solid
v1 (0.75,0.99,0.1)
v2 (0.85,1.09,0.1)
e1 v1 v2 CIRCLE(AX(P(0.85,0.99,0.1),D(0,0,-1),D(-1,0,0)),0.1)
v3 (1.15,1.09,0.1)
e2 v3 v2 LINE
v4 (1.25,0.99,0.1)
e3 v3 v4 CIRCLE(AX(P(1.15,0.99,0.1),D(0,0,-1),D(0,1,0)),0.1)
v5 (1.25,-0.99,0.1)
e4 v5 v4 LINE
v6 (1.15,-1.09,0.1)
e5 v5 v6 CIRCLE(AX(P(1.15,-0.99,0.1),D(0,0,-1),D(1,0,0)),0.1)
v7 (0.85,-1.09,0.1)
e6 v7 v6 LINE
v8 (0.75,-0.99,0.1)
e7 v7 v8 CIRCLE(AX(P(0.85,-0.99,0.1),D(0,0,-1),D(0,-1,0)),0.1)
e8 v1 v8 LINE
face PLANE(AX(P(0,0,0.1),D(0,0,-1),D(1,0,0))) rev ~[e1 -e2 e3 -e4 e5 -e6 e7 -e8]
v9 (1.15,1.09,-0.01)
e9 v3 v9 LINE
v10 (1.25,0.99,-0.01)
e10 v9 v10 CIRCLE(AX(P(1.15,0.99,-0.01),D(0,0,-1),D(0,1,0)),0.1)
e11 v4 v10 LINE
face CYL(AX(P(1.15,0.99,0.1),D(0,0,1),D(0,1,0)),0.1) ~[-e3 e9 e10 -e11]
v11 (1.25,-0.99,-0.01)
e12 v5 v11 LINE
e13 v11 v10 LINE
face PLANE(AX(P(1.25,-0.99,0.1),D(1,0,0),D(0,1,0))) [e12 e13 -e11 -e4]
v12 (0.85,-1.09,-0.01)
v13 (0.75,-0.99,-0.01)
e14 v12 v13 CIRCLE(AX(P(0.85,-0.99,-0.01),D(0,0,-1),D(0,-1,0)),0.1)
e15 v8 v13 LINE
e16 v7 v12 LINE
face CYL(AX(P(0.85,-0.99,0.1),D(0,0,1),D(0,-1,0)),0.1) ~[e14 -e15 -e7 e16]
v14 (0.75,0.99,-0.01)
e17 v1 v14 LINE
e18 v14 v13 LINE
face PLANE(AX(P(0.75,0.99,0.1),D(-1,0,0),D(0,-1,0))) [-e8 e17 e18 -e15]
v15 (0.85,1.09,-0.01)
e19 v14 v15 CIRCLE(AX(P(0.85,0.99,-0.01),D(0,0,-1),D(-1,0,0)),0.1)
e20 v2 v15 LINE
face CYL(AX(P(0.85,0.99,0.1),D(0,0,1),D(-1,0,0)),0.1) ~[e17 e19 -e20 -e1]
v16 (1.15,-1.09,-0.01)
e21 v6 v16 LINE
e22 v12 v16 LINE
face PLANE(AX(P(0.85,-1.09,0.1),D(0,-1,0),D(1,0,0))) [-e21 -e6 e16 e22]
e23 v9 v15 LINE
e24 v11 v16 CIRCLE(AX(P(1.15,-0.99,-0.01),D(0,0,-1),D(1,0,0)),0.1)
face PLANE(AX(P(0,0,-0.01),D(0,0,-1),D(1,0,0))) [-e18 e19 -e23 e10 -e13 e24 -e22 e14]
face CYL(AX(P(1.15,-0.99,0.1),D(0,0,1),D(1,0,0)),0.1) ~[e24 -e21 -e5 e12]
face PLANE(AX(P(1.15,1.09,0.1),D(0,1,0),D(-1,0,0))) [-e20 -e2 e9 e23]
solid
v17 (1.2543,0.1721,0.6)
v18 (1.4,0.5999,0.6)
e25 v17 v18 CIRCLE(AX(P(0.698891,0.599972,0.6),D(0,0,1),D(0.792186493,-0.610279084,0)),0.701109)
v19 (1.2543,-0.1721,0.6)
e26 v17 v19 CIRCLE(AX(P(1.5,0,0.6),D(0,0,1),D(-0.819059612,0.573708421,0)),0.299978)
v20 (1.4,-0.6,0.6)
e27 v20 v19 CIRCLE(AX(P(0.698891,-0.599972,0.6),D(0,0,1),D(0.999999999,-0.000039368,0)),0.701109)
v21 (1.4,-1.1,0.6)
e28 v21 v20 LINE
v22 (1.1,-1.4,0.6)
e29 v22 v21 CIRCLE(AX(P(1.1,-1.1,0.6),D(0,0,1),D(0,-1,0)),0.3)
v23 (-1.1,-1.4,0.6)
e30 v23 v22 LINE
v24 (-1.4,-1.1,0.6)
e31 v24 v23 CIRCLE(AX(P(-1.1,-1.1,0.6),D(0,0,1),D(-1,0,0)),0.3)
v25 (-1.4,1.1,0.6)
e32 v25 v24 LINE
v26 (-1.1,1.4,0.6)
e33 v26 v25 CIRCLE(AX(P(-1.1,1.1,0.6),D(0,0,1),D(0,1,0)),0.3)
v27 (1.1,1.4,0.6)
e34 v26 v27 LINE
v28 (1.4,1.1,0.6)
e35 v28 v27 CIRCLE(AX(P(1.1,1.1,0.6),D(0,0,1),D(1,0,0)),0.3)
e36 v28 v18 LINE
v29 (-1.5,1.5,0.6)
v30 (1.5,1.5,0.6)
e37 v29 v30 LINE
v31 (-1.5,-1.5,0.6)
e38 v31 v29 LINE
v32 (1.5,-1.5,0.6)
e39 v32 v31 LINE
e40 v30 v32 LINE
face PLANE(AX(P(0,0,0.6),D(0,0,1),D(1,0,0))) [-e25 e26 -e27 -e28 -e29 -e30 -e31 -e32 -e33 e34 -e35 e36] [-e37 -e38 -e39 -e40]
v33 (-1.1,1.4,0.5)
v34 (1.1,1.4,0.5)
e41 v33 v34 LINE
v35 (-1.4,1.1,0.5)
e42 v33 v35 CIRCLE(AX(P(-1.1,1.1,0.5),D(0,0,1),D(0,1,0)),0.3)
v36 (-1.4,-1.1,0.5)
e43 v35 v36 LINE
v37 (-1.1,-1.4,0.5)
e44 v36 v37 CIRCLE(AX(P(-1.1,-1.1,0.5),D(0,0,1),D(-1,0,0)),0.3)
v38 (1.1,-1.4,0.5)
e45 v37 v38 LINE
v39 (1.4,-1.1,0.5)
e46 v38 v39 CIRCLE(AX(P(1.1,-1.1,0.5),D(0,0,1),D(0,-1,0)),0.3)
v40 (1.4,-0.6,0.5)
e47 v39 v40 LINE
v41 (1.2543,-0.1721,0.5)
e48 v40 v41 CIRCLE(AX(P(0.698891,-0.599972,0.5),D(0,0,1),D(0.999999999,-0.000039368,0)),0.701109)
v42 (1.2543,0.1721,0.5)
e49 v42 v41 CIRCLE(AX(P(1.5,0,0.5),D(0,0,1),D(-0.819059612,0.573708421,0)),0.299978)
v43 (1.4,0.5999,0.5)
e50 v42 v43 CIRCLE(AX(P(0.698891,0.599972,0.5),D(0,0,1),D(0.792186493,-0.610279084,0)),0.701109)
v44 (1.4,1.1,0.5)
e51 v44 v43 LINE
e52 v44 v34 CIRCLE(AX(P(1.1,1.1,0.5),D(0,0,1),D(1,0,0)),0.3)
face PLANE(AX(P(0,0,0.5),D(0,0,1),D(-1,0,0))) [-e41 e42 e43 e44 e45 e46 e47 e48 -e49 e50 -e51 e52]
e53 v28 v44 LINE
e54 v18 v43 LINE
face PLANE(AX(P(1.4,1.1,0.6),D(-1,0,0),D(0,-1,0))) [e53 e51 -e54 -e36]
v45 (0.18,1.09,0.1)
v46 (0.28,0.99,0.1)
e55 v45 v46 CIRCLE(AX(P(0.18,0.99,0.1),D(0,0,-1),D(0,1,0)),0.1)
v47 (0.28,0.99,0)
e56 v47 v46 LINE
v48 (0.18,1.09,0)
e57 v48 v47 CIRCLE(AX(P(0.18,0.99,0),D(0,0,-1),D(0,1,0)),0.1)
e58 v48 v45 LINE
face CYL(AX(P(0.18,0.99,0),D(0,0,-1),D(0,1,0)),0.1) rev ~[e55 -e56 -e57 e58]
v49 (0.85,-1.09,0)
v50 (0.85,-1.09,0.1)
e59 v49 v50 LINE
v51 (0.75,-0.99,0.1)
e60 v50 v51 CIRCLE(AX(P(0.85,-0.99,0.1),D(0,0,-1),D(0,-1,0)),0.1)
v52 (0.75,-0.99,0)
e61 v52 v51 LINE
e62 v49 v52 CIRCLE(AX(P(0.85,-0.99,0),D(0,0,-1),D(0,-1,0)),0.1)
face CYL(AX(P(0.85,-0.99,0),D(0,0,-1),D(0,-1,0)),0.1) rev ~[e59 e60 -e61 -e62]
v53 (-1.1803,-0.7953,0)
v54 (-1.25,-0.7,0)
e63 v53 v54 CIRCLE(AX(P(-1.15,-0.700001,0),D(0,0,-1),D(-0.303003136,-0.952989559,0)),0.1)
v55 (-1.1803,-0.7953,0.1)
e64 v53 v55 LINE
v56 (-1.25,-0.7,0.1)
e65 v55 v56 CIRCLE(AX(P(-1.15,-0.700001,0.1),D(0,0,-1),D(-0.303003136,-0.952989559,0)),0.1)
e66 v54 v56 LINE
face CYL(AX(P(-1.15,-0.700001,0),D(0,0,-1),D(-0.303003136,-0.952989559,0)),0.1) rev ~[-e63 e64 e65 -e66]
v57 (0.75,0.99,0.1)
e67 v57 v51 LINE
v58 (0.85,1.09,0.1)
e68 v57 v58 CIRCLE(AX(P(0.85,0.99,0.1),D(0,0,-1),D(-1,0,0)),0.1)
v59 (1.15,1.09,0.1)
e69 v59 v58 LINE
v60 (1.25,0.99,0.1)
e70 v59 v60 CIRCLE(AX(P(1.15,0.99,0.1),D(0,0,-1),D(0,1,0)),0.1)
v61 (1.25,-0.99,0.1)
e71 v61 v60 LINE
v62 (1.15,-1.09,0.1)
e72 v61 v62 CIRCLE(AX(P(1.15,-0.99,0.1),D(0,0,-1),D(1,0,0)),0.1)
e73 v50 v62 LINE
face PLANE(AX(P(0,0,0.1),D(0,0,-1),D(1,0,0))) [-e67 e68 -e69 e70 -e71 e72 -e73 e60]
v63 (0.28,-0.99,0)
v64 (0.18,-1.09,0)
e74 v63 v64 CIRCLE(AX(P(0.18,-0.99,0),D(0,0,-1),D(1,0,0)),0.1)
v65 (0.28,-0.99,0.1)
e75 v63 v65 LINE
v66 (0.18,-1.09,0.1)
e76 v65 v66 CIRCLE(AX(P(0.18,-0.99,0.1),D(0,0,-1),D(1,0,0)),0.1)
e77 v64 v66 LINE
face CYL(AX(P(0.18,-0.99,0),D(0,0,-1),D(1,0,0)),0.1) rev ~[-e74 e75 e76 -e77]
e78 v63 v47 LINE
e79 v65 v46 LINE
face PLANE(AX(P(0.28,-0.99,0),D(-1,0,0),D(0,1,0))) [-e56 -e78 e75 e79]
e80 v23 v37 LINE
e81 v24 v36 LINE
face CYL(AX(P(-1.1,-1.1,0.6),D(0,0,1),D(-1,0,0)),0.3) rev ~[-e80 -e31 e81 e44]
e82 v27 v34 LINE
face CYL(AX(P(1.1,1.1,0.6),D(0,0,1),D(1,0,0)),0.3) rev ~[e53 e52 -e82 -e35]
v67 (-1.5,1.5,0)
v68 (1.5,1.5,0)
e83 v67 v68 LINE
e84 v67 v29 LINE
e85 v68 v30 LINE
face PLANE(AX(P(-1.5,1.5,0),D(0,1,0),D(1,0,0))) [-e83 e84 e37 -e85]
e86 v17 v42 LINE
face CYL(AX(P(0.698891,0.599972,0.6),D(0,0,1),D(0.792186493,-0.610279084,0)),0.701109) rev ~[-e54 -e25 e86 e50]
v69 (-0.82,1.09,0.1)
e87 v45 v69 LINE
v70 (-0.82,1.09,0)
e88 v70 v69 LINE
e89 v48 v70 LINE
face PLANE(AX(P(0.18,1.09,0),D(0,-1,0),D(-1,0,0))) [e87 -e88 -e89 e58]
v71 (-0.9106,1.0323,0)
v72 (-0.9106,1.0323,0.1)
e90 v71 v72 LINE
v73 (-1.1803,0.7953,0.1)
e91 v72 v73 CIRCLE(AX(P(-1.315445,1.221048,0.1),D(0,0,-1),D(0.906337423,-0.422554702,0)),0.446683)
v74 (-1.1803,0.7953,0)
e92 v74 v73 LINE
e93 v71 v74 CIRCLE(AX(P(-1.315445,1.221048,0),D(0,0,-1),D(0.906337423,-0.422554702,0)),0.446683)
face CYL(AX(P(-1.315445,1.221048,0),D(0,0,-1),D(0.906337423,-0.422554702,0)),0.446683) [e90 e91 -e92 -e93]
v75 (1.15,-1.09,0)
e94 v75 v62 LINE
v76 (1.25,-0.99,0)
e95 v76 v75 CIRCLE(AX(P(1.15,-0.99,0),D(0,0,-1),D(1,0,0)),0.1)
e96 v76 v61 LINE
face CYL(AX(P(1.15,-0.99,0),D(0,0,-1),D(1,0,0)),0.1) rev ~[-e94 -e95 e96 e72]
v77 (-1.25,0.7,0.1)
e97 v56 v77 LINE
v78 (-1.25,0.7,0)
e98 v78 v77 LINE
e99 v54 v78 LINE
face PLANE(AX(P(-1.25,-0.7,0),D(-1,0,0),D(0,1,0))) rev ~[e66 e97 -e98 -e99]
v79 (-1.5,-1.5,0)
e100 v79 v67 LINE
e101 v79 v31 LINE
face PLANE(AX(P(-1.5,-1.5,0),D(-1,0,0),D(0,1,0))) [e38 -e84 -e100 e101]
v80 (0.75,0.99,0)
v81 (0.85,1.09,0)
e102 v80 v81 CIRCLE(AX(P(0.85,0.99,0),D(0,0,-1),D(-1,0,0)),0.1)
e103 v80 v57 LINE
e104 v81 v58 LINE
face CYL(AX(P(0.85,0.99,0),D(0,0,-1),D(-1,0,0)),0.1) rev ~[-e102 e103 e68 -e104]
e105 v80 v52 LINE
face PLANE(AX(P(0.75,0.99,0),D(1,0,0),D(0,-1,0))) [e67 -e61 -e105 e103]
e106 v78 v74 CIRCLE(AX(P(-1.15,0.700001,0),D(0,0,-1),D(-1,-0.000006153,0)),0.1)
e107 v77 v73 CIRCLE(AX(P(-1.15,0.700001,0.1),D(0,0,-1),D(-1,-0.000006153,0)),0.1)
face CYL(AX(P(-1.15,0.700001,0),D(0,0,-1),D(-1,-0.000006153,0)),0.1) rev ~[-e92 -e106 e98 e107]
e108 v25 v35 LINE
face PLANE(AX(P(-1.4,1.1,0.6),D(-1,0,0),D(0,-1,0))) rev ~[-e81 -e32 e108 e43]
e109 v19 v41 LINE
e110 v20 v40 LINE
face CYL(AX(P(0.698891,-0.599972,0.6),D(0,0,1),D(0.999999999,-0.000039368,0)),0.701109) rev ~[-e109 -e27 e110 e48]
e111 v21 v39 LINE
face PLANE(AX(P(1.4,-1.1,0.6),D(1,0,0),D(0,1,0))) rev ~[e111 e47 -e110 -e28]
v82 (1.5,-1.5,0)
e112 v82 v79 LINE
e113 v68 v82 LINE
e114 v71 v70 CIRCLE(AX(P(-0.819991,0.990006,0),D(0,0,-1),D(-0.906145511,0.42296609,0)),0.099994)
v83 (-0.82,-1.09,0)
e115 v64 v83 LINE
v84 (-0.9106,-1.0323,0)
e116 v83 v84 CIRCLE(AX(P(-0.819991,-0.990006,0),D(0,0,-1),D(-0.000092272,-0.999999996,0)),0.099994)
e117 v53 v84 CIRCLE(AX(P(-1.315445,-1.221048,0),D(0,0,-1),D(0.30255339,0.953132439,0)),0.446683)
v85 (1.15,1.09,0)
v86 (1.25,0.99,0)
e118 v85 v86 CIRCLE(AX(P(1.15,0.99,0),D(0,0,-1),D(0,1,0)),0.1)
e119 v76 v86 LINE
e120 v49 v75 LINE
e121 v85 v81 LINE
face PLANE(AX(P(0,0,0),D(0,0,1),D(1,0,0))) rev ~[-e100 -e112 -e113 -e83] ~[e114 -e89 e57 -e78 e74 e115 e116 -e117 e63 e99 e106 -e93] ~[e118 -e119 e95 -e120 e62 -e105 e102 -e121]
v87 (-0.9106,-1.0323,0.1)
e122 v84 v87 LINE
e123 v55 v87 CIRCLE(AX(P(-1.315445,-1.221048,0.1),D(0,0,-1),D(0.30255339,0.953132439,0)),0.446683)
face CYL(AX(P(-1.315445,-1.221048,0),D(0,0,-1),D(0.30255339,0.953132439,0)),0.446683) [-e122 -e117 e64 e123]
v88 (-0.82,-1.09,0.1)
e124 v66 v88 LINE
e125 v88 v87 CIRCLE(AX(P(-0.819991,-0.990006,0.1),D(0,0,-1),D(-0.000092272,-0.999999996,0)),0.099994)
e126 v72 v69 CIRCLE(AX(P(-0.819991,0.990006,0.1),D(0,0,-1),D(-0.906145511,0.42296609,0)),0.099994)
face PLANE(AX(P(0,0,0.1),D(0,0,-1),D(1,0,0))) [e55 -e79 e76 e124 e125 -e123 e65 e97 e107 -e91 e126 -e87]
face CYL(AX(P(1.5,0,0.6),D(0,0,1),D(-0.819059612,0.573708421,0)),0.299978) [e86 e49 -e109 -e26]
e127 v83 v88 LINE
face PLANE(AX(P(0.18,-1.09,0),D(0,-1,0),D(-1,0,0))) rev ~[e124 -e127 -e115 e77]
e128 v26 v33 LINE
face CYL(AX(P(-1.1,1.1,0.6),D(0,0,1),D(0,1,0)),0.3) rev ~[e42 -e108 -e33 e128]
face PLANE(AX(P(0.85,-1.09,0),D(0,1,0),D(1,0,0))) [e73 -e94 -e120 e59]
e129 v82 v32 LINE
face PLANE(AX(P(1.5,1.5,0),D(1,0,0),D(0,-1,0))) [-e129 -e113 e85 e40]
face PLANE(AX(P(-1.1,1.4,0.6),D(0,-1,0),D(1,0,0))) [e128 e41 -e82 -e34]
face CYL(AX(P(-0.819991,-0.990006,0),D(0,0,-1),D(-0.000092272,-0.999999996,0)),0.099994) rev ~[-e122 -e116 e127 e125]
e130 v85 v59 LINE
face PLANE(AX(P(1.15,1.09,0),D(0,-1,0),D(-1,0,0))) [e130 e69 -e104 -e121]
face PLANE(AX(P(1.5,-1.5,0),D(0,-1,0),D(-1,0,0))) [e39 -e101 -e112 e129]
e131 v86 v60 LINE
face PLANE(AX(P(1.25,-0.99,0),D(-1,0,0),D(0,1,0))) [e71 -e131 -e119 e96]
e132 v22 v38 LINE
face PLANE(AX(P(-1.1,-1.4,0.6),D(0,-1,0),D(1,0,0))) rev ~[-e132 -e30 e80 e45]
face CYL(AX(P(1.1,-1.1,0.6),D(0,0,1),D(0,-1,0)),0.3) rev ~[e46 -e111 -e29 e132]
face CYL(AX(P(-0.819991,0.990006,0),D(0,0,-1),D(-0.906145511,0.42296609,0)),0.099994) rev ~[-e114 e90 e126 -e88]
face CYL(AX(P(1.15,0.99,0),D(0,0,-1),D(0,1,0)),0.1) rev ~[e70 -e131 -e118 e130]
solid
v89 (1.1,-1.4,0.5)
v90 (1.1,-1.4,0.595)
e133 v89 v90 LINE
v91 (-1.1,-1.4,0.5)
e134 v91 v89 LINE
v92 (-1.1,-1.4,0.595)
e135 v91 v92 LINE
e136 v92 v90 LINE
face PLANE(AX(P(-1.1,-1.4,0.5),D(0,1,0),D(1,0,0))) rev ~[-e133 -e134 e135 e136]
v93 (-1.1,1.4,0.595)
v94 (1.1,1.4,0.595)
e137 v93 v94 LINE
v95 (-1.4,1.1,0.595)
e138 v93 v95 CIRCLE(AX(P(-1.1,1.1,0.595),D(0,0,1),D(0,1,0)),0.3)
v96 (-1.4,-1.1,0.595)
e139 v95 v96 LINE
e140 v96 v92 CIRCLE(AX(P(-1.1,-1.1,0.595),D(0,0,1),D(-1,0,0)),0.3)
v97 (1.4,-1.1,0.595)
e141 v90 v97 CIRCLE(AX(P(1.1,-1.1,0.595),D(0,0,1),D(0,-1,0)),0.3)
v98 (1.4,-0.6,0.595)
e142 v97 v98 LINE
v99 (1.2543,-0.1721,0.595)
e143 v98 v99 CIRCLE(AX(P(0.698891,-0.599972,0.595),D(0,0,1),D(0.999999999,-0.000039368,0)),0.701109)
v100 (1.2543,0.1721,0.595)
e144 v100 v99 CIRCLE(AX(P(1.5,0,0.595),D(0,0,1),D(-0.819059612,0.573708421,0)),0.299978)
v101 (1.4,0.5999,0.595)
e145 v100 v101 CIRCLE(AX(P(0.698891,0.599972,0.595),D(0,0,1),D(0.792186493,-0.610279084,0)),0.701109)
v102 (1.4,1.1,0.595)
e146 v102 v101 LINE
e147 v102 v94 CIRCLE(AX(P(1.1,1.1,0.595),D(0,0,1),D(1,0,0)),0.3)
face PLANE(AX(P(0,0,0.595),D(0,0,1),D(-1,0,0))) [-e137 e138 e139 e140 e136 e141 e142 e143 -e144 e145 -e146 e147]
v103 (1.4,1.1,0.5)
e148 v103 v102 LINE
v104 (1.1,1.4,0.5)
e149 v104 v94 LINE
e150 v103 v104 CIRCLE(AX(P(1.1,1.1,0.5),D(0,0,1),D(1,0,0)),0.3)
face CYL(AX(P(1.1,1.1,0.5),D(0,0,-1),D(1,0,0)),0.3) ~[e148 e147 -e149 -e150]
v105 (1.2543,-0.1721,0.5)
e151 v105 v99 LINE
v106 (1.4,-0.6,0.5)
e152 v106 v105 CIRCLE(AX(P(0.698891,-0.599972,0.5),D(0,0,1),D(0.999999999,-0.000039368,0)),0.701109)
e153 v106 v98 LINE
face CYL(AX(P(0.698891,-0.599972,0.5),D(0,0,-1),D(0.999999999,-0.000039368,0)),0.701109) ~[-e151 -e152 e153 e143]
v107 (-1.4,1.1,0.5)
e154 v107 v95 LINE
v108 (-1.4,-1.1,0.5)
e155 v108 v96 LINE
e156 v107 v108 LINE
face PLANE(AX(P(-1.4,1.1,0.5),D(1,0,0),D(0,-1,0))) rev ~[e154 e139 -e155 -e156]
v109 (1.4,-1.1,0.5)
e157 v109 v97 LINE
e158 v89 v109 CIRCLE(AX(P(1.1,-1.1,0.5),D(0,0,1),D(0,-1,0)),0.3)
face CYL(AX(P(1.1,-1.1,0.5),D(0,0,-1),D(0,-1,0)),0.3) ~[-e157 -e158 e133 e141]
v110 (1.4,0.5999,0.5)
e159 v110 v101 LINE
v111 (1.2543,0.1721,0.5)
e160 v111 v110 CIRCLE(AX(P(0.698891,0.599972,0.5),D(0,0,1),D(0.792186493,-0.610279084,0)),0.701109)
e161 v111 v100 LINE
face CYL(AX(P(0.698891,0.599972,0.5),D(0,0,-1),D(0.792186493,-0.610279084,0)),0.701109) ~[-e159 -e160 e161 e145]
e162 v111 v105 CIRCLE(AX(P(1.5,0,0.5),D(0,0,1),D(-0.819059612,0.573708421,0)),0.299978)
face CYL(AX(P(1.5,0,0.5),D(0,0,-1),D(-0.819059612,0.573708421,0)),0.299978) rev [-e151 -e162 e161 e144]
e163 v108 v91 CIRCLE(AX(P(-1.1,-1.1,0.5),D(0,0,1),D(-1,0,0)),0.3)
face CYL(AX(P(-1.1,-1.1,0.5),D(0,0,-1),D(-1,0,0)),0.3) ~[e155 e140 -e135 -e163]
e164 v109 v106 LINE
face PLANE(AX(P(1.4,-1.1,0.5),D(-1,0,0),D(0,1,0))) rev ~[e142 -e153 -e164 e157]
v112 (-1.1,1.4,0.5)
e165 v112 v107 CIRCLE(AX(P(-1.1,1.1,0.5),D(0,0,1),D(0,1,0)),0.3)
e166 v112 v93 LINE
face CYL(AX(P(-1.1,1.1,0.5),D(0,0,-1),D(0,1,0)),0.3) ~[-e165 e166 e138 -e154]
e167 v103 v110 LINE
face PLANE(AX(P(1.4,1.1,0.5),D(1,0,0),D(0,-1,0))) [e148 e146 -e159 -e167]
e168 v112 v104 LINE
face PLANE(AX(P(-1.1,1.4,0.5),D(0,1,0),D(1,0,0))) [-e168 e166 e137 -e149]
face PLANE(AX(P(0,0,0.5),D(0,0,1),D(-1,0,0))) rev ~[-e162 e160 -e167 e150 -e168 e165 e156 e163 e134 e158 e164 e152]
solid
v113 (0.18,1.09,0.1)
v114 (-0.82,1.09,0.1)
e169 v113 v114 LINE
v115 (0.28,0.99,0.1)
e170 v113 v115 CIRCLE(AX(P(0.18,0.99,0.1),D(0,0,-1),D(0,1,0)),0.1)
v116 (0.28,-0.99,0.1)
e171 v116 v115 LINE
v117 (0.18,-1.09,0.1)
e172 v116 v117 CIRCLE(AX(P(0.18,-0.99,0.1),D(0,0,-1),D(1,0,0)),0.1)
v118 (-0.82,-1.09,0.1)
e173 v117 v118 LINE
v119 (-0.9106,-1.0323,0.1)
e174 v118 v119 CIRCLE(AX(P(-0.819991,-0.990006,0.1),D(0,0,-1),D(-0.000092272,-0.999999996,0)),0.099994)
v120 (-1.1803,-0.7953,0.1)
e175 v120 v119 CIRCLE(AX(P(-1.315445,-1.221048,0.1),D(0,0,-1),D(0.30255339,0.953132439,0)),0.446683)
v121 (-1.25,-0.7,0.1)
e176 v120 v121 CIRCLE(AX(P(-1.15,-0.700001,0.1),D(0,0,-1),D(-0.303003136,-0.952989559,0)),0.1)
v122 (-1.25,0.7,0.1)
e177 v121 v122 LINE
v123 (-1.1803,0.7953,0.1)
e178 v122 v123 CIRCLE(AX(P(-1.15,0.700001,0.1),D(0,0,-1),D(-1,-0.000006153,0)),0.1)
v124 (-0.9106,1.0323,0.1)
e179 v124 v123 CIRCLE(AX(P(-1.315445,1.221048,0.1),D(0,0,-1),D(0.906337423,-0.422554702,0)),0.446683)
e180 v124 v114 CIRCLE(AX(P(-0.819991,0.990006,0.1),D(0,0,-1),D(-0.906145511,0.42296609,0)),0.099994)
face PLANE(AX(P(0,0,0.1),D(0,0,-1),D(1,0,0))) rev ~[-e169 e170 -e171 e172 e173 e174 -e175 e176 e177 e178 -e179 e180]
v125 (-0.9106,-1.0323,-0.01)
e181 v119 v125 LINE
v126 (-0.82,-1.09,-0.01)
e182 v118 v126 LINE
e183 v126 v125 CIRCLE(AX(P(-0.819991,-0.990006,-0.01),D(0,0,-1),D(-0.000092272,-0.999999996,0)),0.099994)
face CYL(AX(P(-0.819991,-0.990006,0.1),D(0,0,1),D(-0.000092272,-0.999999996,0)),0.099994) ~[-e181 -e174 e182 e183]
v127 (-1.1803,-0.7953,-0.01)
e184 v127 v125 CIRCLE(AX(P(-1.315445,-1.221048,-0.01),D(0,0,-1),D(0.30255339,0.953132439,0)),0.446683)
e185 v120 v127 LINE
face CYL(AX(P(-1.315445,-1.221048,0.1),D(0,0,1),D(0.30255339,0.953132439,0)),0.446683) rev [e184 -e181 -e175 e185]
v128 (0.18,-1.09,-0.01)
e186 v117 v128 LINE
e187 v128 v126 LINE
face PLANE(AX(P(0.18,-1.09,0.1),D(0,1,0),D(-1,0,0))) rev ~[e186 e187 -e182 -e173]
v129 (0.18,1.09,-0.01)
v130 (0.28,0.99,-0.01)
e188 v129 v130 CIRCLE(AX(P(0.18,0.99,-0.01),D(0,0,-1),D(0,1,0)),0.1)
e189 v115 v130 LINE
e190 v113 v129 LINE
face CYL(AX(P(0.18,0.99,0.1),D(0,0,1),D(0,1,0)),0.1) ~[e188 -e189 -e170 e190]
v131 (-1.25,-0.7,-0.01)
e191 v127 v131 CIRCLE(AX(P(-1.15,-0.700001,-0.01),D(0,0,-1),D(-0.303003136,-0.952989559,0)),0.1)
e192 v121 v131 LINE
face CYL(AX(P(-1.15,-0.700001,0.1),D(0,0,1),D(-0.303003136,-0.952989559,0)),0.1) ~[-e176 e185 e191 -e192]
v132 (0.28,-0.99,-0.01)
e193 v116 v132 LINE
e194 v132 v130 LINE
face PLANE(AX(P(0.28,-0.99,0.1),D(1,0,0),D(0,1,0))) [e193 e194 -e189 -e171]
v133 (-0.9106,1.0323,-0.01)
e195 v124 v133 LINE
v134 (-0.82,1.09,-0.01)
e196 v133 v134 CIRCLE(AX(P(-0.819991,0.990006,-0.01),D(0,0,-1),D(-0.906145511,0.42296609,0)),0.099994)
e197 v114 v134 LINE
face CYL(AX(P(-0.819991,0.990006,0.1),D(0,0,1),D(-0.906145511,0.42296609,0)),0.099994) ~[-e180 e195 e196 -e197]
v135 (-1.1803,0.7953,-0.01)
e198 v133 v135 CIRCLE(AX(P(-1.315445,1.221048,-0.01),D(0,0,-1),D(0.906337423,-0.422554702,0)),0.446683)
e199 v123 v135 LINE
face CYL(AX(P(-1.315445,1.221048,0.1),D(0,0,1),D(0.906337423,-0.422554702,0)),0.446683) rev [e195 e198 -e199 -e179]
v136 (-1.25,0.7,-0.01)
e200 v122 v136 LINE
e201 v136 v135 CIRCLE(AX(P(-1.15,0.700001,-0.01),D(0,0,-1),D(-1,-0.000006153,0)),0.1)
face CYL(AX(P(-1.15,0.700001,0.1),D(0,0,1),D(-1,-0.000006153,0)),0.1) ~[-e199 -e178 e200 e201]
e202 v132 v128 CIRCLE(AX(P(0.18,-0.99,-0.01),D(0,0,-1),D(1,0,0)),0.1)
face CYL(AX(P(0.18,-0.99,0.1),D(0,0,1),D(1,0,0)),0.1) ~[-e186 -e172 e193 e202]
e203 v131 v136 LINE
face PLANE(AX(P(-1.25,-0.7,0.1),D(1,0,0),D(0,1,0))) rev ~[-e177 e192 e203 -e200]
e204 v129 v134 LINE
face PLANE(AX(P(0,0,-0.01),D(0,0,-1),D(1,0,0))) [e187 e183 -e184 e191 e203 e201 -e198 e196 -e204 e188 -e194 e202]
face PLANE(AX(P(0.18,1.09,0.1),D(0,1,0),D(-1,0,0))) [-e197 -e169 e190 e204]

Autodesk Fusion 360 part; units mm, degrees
sketch "Sketch1" plane through (0, 0, 0) normal (0, 0, 1) x (1, 0, 0) in component "Body"
  line L0 (1.5, -1.5) -> (-1.5, -1.5)
  line L1 (-1.5, -1.5) -> (-1.5, 1.5)
  line L2 (-1.5, 1.5) -> (1.5, 1.5)
  line L3 (1.5, 1.5) -> (1.5, -1.5)
  line L4 (1.5, -1.5) -> (-1.5, 1.5) construction
  line L5 (-1.5, -1.5) -> (1.5, 1.5) construction
  dimension "d1" = 3
  dimension "d2" = 3
extrude "Extrude1" add sketch "Sketch1" along normal blind 0.6 makes body 1 in component "Body"
sketch "Sketch2" plane through (0, 0, 0.6) normal (0, 0, 1) x (-1, 0, 0) in component "Body"
  line L0 (-1.5, -1.5) -> (1.5, -1.5)
  line L1 (1.5, -1.5) -> (1.5, 1.5)
  line L2 (1.5, 1.5) -> (-1.5, 1.5)
  line L3 (-1.5, 1.5) -> (-1.5, -1.5)
  line L4 (-1.4, 1.4) -> (1.4, 1.4) construction
  line L5 (1.4, 1.4) -> (1.4, -1.4) construction
  line L6 (1.4, -1.4) -> (-1.4, -1.4) construction
  line L7 (-1.4, -1.4) -> (-1.4, 1.4) construction
  line L8 (-1.4, 1.4) -> (1.4, -1.4) construction
  line L9 (1.4, 1.4) -> (-1.4, -1.4) construction
  line L10 (1.4, 0) -> (-1.4, 0) construction
  arc A0 (1.1, -1.4) -> (1.4, -1.1) centre (1.1, -1.1) ccw
  line L11 (1.1, -1.1) -> (1.1, -1.4) construction
  line L12 (1.1, -1.1) -> (1.4, -1.1) construction
  arc A1 (-1.4, -1.1) -> (-1.1, -1.4) centre (-1.1, -1.1) ccw
  line L13 (-1.1, -1.1) -> (-1.4, -1.1) construction
  line L14 (-1.1, -1.1) -> (-1.1, -1.4) construction
  arc A2 (1.4, 1.1) -> (1.1, 1.4) centre (1.1, 1.1) ccw
  line L15 (1.1, 1.1) -> (1.4, 1.1) construction
  line L16 (1.1, 1.1) -> (1.1, 1.4) construction
  arc A3 (-1.1, 1.4) -> (-1.4, 1.1) centre (-1.1, 1.1) ccw
  line L17 (-1.1, 1.1) -> (-1.1, 1.4) construction
  line L18 (-1.1, 1.1) -> (-1.4, 1.1) construction
  line L19 (1.4, -1.1) -> (1.4, 1.1)
  line L20 (1.1, -1.4) -> (-1.1, -1.4)
  line L21 (1.1, 1.4) -> (-1.1, 1.4)
  line L22 (-1.4, 0) -> (-2.4, 0) construction
  line L23 (-1.4, -1.1) -> (-1.4, -1.0999)
  line L24 (-1.4, -1.0999) -> (-1.4, -0.5999)
  line L25 (-1.4, 1.1) -> (-1.4, 0.6)
  circle A4 centre (-1.5, 0) radius 0.3 construction
  arc A5 (-1.2543, -0.1721) -> (-1.2543, 0.1721) centre (-1.5, 0) ccw
  line L26 (-1.5, 0) -> (-1.2543, -0.1721) construction
  line L27 (-1.5, 0) -> (-1.2543, 0.1721) construction
  arc A6 (-1.2543, -0.1721) -> (-1.4, -0.5999) centre (-0.6989, -0.6) ccw
  arc A7 (-1.4, 0.6) -> (-1.2543, 0.1721) centre (-0.6989, 0.6) ccw
  dimension "d5" = 2.8
  dimension "d6" = 2.8
  dimension "d7" = 90
  dimension "d8" = 90
  dimension "d9" = 90
  dimension "d10" = 90
  dimension "d11" = 0.3
  dimension "d12" = 0.3
  dimension "d13" = 0.3
  dimension "d14" = 0.3
  dimension "d16" = 1
  dimension "d17" = 0.5
  dimension "d18" = 0.5
  dimension "d23" = 0.3
  dimension "d24" = 0.6
  dimension "d25" = 70
extrude "Extrude2" cut sketch "Sketch2" against normal blind 0.1 contours A0 A1 A2 A3 L19 L20 L21 L24 L25 A5 A6 A7 bodies 1 in component "Body"
sketch "Sketch3" plane through (0, 0, 0) normal (0, 0, -1) x (1, 0, 0) in component "Body"
  line L0 (-1.5, -1.5) -> (1.5, -1.5)
  line L1 (1.5, -1.5) -> (1.5, 1.5)
  line L2 (1.5, 1.5) -> (-1.5, 1.5)
  line L3 (-1.5, 1.5) -> (-1.5, -1.5)
  line L4 (-1.5, 0) -> (1.5, 0) construction
  line L5 (0.28, -1.09) -> (-1.25, -1.09) construction
  line L6 (-1.25, -1.09) -> (-1.25, 1.09) construction
  line L7 (-1.25, 1.09) -> (0.28, 1.09) construction
  line L8 (0.28, 1.09) -> (0.28, -1.09) construction
  line L9 (0.28, -1.09) -> (-1.25, 1.09) construction
  line L10 (-1.25, -1.09) -> (0.28, 1.09) construction
  line L11 (1.25, -1.09) -> (0.75, -1.09) construction
  line L12 (0.75, -1.09) -> (0.75, 1.09) construction
  line L13 (0.75, 1.09) -> (1.25, 1.09) construction
  line L14 (1.25, 1.09) -> (1.25, -1.09) construction
  line L15 (1.25, -1.09) -> (0.75, 1.09) construction
  line L16 (0.75, -1.09) -> (1.25, 1.09) construction
  line L17 (1.25, -1.09) -> (1.5, -1.09) construction
  line L18 (-1.25, -1.09) -> (-1.5, -1.09) construction
  arc A0 (1.25, 0.99) -> (1.15, 1.09) centre (1.15, 0.99) ccw
  line L19 (1.15, 0.99) -> (1.25, 0.99) construction
  line L20 (1.15, 0.99) -> (1.15, 1.09) construction
  arc A1 (0.85, 1.09) -> (0.75, 0.99) centre (0.85, 0.99) ccw
  line L21 (0.85, 0.99) -> (0.85, 1.09) construction
  line L22 (0.85, 0.99) -> (0.75, 0.99) construction
  arc A2 (1.15, -1.09) -> (1.25, -0.99) centre (1.15, -0.99) ccw
  line L23 (1.15, -0.99) -> (1.15, -1.09) construction
  line L24 (1.15, -0.99) -> (1.25, -0.99) construction
  arc A3 (0.75, -0.99) -> (0.85, -1.09) centre (0.85, -0.99) ccw
  line L25 (0.85, -0.99) -> (0.75, -0.99) construction
  line L26 (0.85, -0.99) -> (0.85, -1.09) construction
  arc A4 (0.18, -1.09) -> (0.28, -0.99) centre (0.18, -0.99) ccw
  line L27 (0.18, -0.99) -> (0.18, -1.09) construction
  line L28 (0.18, -0.99) -> (0.28, -0.99) construction
  arc A5 (0.28, 0.99) -> (0.18, 1.09) centre (0.18, 0.99) ccw
  line L29 (0.18, 0.99) -> (0.28, 0.99) construction
  line L30 (0.18, 0.99) -> (0.18, 1.09) construction
  line L31 (1.25, 0.99) -> (1.25, -0.99)
  line L32 (1.15, -1.09) -> (0.85, -1.09)
  line L33 (0.75, -0.99) -> (0.75, 0.99)
  line L34 (0.85, 1.09) -> (1.15, 1.09)
  line L35 (0.28, 0.99) -> (0.28, -0.99)
  line L36 (-1.25, 0.7) -> (-1.25, -0.7)
  arc A6 (-1.1803, 0.7953) -> (-1.25, 0.7) centre (-1.15, 0.7) ccw
  line L37 (-1.15, 0.7) -> (-1.1803, 0.7953) construction
  line L38 (-1.15, 0.7) -> (-1.25, 0.7) construction
  arc A7 (-1.25, -0.7) -> (-1.1803, -0.7953) centre (-1.15, -0.7) ccw
  line L39 (-1.15, -0.7) -> (-1.25, -0.7) construction
  line L40 (-1.15, -0.7) -> (-1.1803, -0.7953) construction
  arc A8 (-0.82, 1.09) -> (-0.9106, 1.0323) centre (-0.82, 0.99) ccw
  line L41 (-0.82, 0.99) -> (-0.82, 1.09) construction
  line L42 (-0.82, 0.99) -> (-0.9106, 1.0323) construction
  line L43 (0.18, 1.09) -> (-0.82, 1.09)
  line L44 (0.18, -1.09) -> (-0.82, -1.09)
  arc A9 (-0.9106, -1.0323) -> (-0.82, -1.09) centre (-0.82, -0.99) ccw
  line L45 (-0.82, -0.99) -> (-0.9106, -1.0323) construction
  line L46 (-0.82, -0.99) -> (-0.82, -1.09) construction
  arc A10 (-1.1803, 0.7953) -> (-0.9106, 1.0323) centre (-1.3155, 1.221) ccw
  arc A11 (-0.9106, -1.0323) -> (-1.1803, -0.7953) centre (-1.3155, -1.221) ccw
  point P0 (-0.485, 0)
  point P1 (1, 0)
  dimension "d28" = 1.53
  dimension "d29" = 2.18
  dimension "d30" = 0.5
  dimension "d31" = 2.18
  dimension "d32" = 0.47
  dimension "d33" = 90
  dimension "d34" = 90
  dimension "d35" = 90
  dimension "d36" = 90
  dimension "d37" = 90
  dimension "d38" = 90
  dimension "d39" = 0.1
  dimension "d43" = 65
  dimension "d45" = 0.1
  dimension "d46" = 1
  dimension "d47" = 1
  dimension "d48" = 65
  dimension "d49" = 0.1
  dimension "d50" = 1.4
extrude "Extrude3" cut sketch "Sketch3" against normal blind 0.1 contours A0 A1 A2 A3 L31 L32 L33 L34 | A4 A5 L35 L36 A6 A7 A8 L43 L44 A9 A10 A11 bodies 1 in component "Body"
extrude "Extrude1'" add 1 faces at (-0.5331, 0.0068, 0.5) along direction (0, 0, 1) blind 0.095 separate body on bodies 1 makes body 2 in component "Element"
extrude "Extrude1''" add 2 faces at (-0.1535, 0.2952, 0.1) (1.0833, -0.33, 0.1) along direction (0, 0, -1) blind 0.11 separate body on bodies 1 makes body 3 at (-0.1535, 0.2952, 0.1) makes body 4 at (1.0833, -0.33, 0.1) in component "Pads"
component "Body" placed x (1, 0, 0) y (0, 1, 0) z (0, 0, 1) at (0, 0, 0)
component "Element" placed x (1, 0, 0) y (0, 1, 0) z (0, 0, 1) at (0, 0, 0)
component "Pads" placed x (1, 0, 0) y (0, 1, 0) z (0, 0, 1) at (0, 0, 0)
equation "d12 = d11"
equation "d13 = d11"
equation "d14 = d11"
equation "d45 = d39"
equation "d47 = d46"
equation "d49 = d45"
